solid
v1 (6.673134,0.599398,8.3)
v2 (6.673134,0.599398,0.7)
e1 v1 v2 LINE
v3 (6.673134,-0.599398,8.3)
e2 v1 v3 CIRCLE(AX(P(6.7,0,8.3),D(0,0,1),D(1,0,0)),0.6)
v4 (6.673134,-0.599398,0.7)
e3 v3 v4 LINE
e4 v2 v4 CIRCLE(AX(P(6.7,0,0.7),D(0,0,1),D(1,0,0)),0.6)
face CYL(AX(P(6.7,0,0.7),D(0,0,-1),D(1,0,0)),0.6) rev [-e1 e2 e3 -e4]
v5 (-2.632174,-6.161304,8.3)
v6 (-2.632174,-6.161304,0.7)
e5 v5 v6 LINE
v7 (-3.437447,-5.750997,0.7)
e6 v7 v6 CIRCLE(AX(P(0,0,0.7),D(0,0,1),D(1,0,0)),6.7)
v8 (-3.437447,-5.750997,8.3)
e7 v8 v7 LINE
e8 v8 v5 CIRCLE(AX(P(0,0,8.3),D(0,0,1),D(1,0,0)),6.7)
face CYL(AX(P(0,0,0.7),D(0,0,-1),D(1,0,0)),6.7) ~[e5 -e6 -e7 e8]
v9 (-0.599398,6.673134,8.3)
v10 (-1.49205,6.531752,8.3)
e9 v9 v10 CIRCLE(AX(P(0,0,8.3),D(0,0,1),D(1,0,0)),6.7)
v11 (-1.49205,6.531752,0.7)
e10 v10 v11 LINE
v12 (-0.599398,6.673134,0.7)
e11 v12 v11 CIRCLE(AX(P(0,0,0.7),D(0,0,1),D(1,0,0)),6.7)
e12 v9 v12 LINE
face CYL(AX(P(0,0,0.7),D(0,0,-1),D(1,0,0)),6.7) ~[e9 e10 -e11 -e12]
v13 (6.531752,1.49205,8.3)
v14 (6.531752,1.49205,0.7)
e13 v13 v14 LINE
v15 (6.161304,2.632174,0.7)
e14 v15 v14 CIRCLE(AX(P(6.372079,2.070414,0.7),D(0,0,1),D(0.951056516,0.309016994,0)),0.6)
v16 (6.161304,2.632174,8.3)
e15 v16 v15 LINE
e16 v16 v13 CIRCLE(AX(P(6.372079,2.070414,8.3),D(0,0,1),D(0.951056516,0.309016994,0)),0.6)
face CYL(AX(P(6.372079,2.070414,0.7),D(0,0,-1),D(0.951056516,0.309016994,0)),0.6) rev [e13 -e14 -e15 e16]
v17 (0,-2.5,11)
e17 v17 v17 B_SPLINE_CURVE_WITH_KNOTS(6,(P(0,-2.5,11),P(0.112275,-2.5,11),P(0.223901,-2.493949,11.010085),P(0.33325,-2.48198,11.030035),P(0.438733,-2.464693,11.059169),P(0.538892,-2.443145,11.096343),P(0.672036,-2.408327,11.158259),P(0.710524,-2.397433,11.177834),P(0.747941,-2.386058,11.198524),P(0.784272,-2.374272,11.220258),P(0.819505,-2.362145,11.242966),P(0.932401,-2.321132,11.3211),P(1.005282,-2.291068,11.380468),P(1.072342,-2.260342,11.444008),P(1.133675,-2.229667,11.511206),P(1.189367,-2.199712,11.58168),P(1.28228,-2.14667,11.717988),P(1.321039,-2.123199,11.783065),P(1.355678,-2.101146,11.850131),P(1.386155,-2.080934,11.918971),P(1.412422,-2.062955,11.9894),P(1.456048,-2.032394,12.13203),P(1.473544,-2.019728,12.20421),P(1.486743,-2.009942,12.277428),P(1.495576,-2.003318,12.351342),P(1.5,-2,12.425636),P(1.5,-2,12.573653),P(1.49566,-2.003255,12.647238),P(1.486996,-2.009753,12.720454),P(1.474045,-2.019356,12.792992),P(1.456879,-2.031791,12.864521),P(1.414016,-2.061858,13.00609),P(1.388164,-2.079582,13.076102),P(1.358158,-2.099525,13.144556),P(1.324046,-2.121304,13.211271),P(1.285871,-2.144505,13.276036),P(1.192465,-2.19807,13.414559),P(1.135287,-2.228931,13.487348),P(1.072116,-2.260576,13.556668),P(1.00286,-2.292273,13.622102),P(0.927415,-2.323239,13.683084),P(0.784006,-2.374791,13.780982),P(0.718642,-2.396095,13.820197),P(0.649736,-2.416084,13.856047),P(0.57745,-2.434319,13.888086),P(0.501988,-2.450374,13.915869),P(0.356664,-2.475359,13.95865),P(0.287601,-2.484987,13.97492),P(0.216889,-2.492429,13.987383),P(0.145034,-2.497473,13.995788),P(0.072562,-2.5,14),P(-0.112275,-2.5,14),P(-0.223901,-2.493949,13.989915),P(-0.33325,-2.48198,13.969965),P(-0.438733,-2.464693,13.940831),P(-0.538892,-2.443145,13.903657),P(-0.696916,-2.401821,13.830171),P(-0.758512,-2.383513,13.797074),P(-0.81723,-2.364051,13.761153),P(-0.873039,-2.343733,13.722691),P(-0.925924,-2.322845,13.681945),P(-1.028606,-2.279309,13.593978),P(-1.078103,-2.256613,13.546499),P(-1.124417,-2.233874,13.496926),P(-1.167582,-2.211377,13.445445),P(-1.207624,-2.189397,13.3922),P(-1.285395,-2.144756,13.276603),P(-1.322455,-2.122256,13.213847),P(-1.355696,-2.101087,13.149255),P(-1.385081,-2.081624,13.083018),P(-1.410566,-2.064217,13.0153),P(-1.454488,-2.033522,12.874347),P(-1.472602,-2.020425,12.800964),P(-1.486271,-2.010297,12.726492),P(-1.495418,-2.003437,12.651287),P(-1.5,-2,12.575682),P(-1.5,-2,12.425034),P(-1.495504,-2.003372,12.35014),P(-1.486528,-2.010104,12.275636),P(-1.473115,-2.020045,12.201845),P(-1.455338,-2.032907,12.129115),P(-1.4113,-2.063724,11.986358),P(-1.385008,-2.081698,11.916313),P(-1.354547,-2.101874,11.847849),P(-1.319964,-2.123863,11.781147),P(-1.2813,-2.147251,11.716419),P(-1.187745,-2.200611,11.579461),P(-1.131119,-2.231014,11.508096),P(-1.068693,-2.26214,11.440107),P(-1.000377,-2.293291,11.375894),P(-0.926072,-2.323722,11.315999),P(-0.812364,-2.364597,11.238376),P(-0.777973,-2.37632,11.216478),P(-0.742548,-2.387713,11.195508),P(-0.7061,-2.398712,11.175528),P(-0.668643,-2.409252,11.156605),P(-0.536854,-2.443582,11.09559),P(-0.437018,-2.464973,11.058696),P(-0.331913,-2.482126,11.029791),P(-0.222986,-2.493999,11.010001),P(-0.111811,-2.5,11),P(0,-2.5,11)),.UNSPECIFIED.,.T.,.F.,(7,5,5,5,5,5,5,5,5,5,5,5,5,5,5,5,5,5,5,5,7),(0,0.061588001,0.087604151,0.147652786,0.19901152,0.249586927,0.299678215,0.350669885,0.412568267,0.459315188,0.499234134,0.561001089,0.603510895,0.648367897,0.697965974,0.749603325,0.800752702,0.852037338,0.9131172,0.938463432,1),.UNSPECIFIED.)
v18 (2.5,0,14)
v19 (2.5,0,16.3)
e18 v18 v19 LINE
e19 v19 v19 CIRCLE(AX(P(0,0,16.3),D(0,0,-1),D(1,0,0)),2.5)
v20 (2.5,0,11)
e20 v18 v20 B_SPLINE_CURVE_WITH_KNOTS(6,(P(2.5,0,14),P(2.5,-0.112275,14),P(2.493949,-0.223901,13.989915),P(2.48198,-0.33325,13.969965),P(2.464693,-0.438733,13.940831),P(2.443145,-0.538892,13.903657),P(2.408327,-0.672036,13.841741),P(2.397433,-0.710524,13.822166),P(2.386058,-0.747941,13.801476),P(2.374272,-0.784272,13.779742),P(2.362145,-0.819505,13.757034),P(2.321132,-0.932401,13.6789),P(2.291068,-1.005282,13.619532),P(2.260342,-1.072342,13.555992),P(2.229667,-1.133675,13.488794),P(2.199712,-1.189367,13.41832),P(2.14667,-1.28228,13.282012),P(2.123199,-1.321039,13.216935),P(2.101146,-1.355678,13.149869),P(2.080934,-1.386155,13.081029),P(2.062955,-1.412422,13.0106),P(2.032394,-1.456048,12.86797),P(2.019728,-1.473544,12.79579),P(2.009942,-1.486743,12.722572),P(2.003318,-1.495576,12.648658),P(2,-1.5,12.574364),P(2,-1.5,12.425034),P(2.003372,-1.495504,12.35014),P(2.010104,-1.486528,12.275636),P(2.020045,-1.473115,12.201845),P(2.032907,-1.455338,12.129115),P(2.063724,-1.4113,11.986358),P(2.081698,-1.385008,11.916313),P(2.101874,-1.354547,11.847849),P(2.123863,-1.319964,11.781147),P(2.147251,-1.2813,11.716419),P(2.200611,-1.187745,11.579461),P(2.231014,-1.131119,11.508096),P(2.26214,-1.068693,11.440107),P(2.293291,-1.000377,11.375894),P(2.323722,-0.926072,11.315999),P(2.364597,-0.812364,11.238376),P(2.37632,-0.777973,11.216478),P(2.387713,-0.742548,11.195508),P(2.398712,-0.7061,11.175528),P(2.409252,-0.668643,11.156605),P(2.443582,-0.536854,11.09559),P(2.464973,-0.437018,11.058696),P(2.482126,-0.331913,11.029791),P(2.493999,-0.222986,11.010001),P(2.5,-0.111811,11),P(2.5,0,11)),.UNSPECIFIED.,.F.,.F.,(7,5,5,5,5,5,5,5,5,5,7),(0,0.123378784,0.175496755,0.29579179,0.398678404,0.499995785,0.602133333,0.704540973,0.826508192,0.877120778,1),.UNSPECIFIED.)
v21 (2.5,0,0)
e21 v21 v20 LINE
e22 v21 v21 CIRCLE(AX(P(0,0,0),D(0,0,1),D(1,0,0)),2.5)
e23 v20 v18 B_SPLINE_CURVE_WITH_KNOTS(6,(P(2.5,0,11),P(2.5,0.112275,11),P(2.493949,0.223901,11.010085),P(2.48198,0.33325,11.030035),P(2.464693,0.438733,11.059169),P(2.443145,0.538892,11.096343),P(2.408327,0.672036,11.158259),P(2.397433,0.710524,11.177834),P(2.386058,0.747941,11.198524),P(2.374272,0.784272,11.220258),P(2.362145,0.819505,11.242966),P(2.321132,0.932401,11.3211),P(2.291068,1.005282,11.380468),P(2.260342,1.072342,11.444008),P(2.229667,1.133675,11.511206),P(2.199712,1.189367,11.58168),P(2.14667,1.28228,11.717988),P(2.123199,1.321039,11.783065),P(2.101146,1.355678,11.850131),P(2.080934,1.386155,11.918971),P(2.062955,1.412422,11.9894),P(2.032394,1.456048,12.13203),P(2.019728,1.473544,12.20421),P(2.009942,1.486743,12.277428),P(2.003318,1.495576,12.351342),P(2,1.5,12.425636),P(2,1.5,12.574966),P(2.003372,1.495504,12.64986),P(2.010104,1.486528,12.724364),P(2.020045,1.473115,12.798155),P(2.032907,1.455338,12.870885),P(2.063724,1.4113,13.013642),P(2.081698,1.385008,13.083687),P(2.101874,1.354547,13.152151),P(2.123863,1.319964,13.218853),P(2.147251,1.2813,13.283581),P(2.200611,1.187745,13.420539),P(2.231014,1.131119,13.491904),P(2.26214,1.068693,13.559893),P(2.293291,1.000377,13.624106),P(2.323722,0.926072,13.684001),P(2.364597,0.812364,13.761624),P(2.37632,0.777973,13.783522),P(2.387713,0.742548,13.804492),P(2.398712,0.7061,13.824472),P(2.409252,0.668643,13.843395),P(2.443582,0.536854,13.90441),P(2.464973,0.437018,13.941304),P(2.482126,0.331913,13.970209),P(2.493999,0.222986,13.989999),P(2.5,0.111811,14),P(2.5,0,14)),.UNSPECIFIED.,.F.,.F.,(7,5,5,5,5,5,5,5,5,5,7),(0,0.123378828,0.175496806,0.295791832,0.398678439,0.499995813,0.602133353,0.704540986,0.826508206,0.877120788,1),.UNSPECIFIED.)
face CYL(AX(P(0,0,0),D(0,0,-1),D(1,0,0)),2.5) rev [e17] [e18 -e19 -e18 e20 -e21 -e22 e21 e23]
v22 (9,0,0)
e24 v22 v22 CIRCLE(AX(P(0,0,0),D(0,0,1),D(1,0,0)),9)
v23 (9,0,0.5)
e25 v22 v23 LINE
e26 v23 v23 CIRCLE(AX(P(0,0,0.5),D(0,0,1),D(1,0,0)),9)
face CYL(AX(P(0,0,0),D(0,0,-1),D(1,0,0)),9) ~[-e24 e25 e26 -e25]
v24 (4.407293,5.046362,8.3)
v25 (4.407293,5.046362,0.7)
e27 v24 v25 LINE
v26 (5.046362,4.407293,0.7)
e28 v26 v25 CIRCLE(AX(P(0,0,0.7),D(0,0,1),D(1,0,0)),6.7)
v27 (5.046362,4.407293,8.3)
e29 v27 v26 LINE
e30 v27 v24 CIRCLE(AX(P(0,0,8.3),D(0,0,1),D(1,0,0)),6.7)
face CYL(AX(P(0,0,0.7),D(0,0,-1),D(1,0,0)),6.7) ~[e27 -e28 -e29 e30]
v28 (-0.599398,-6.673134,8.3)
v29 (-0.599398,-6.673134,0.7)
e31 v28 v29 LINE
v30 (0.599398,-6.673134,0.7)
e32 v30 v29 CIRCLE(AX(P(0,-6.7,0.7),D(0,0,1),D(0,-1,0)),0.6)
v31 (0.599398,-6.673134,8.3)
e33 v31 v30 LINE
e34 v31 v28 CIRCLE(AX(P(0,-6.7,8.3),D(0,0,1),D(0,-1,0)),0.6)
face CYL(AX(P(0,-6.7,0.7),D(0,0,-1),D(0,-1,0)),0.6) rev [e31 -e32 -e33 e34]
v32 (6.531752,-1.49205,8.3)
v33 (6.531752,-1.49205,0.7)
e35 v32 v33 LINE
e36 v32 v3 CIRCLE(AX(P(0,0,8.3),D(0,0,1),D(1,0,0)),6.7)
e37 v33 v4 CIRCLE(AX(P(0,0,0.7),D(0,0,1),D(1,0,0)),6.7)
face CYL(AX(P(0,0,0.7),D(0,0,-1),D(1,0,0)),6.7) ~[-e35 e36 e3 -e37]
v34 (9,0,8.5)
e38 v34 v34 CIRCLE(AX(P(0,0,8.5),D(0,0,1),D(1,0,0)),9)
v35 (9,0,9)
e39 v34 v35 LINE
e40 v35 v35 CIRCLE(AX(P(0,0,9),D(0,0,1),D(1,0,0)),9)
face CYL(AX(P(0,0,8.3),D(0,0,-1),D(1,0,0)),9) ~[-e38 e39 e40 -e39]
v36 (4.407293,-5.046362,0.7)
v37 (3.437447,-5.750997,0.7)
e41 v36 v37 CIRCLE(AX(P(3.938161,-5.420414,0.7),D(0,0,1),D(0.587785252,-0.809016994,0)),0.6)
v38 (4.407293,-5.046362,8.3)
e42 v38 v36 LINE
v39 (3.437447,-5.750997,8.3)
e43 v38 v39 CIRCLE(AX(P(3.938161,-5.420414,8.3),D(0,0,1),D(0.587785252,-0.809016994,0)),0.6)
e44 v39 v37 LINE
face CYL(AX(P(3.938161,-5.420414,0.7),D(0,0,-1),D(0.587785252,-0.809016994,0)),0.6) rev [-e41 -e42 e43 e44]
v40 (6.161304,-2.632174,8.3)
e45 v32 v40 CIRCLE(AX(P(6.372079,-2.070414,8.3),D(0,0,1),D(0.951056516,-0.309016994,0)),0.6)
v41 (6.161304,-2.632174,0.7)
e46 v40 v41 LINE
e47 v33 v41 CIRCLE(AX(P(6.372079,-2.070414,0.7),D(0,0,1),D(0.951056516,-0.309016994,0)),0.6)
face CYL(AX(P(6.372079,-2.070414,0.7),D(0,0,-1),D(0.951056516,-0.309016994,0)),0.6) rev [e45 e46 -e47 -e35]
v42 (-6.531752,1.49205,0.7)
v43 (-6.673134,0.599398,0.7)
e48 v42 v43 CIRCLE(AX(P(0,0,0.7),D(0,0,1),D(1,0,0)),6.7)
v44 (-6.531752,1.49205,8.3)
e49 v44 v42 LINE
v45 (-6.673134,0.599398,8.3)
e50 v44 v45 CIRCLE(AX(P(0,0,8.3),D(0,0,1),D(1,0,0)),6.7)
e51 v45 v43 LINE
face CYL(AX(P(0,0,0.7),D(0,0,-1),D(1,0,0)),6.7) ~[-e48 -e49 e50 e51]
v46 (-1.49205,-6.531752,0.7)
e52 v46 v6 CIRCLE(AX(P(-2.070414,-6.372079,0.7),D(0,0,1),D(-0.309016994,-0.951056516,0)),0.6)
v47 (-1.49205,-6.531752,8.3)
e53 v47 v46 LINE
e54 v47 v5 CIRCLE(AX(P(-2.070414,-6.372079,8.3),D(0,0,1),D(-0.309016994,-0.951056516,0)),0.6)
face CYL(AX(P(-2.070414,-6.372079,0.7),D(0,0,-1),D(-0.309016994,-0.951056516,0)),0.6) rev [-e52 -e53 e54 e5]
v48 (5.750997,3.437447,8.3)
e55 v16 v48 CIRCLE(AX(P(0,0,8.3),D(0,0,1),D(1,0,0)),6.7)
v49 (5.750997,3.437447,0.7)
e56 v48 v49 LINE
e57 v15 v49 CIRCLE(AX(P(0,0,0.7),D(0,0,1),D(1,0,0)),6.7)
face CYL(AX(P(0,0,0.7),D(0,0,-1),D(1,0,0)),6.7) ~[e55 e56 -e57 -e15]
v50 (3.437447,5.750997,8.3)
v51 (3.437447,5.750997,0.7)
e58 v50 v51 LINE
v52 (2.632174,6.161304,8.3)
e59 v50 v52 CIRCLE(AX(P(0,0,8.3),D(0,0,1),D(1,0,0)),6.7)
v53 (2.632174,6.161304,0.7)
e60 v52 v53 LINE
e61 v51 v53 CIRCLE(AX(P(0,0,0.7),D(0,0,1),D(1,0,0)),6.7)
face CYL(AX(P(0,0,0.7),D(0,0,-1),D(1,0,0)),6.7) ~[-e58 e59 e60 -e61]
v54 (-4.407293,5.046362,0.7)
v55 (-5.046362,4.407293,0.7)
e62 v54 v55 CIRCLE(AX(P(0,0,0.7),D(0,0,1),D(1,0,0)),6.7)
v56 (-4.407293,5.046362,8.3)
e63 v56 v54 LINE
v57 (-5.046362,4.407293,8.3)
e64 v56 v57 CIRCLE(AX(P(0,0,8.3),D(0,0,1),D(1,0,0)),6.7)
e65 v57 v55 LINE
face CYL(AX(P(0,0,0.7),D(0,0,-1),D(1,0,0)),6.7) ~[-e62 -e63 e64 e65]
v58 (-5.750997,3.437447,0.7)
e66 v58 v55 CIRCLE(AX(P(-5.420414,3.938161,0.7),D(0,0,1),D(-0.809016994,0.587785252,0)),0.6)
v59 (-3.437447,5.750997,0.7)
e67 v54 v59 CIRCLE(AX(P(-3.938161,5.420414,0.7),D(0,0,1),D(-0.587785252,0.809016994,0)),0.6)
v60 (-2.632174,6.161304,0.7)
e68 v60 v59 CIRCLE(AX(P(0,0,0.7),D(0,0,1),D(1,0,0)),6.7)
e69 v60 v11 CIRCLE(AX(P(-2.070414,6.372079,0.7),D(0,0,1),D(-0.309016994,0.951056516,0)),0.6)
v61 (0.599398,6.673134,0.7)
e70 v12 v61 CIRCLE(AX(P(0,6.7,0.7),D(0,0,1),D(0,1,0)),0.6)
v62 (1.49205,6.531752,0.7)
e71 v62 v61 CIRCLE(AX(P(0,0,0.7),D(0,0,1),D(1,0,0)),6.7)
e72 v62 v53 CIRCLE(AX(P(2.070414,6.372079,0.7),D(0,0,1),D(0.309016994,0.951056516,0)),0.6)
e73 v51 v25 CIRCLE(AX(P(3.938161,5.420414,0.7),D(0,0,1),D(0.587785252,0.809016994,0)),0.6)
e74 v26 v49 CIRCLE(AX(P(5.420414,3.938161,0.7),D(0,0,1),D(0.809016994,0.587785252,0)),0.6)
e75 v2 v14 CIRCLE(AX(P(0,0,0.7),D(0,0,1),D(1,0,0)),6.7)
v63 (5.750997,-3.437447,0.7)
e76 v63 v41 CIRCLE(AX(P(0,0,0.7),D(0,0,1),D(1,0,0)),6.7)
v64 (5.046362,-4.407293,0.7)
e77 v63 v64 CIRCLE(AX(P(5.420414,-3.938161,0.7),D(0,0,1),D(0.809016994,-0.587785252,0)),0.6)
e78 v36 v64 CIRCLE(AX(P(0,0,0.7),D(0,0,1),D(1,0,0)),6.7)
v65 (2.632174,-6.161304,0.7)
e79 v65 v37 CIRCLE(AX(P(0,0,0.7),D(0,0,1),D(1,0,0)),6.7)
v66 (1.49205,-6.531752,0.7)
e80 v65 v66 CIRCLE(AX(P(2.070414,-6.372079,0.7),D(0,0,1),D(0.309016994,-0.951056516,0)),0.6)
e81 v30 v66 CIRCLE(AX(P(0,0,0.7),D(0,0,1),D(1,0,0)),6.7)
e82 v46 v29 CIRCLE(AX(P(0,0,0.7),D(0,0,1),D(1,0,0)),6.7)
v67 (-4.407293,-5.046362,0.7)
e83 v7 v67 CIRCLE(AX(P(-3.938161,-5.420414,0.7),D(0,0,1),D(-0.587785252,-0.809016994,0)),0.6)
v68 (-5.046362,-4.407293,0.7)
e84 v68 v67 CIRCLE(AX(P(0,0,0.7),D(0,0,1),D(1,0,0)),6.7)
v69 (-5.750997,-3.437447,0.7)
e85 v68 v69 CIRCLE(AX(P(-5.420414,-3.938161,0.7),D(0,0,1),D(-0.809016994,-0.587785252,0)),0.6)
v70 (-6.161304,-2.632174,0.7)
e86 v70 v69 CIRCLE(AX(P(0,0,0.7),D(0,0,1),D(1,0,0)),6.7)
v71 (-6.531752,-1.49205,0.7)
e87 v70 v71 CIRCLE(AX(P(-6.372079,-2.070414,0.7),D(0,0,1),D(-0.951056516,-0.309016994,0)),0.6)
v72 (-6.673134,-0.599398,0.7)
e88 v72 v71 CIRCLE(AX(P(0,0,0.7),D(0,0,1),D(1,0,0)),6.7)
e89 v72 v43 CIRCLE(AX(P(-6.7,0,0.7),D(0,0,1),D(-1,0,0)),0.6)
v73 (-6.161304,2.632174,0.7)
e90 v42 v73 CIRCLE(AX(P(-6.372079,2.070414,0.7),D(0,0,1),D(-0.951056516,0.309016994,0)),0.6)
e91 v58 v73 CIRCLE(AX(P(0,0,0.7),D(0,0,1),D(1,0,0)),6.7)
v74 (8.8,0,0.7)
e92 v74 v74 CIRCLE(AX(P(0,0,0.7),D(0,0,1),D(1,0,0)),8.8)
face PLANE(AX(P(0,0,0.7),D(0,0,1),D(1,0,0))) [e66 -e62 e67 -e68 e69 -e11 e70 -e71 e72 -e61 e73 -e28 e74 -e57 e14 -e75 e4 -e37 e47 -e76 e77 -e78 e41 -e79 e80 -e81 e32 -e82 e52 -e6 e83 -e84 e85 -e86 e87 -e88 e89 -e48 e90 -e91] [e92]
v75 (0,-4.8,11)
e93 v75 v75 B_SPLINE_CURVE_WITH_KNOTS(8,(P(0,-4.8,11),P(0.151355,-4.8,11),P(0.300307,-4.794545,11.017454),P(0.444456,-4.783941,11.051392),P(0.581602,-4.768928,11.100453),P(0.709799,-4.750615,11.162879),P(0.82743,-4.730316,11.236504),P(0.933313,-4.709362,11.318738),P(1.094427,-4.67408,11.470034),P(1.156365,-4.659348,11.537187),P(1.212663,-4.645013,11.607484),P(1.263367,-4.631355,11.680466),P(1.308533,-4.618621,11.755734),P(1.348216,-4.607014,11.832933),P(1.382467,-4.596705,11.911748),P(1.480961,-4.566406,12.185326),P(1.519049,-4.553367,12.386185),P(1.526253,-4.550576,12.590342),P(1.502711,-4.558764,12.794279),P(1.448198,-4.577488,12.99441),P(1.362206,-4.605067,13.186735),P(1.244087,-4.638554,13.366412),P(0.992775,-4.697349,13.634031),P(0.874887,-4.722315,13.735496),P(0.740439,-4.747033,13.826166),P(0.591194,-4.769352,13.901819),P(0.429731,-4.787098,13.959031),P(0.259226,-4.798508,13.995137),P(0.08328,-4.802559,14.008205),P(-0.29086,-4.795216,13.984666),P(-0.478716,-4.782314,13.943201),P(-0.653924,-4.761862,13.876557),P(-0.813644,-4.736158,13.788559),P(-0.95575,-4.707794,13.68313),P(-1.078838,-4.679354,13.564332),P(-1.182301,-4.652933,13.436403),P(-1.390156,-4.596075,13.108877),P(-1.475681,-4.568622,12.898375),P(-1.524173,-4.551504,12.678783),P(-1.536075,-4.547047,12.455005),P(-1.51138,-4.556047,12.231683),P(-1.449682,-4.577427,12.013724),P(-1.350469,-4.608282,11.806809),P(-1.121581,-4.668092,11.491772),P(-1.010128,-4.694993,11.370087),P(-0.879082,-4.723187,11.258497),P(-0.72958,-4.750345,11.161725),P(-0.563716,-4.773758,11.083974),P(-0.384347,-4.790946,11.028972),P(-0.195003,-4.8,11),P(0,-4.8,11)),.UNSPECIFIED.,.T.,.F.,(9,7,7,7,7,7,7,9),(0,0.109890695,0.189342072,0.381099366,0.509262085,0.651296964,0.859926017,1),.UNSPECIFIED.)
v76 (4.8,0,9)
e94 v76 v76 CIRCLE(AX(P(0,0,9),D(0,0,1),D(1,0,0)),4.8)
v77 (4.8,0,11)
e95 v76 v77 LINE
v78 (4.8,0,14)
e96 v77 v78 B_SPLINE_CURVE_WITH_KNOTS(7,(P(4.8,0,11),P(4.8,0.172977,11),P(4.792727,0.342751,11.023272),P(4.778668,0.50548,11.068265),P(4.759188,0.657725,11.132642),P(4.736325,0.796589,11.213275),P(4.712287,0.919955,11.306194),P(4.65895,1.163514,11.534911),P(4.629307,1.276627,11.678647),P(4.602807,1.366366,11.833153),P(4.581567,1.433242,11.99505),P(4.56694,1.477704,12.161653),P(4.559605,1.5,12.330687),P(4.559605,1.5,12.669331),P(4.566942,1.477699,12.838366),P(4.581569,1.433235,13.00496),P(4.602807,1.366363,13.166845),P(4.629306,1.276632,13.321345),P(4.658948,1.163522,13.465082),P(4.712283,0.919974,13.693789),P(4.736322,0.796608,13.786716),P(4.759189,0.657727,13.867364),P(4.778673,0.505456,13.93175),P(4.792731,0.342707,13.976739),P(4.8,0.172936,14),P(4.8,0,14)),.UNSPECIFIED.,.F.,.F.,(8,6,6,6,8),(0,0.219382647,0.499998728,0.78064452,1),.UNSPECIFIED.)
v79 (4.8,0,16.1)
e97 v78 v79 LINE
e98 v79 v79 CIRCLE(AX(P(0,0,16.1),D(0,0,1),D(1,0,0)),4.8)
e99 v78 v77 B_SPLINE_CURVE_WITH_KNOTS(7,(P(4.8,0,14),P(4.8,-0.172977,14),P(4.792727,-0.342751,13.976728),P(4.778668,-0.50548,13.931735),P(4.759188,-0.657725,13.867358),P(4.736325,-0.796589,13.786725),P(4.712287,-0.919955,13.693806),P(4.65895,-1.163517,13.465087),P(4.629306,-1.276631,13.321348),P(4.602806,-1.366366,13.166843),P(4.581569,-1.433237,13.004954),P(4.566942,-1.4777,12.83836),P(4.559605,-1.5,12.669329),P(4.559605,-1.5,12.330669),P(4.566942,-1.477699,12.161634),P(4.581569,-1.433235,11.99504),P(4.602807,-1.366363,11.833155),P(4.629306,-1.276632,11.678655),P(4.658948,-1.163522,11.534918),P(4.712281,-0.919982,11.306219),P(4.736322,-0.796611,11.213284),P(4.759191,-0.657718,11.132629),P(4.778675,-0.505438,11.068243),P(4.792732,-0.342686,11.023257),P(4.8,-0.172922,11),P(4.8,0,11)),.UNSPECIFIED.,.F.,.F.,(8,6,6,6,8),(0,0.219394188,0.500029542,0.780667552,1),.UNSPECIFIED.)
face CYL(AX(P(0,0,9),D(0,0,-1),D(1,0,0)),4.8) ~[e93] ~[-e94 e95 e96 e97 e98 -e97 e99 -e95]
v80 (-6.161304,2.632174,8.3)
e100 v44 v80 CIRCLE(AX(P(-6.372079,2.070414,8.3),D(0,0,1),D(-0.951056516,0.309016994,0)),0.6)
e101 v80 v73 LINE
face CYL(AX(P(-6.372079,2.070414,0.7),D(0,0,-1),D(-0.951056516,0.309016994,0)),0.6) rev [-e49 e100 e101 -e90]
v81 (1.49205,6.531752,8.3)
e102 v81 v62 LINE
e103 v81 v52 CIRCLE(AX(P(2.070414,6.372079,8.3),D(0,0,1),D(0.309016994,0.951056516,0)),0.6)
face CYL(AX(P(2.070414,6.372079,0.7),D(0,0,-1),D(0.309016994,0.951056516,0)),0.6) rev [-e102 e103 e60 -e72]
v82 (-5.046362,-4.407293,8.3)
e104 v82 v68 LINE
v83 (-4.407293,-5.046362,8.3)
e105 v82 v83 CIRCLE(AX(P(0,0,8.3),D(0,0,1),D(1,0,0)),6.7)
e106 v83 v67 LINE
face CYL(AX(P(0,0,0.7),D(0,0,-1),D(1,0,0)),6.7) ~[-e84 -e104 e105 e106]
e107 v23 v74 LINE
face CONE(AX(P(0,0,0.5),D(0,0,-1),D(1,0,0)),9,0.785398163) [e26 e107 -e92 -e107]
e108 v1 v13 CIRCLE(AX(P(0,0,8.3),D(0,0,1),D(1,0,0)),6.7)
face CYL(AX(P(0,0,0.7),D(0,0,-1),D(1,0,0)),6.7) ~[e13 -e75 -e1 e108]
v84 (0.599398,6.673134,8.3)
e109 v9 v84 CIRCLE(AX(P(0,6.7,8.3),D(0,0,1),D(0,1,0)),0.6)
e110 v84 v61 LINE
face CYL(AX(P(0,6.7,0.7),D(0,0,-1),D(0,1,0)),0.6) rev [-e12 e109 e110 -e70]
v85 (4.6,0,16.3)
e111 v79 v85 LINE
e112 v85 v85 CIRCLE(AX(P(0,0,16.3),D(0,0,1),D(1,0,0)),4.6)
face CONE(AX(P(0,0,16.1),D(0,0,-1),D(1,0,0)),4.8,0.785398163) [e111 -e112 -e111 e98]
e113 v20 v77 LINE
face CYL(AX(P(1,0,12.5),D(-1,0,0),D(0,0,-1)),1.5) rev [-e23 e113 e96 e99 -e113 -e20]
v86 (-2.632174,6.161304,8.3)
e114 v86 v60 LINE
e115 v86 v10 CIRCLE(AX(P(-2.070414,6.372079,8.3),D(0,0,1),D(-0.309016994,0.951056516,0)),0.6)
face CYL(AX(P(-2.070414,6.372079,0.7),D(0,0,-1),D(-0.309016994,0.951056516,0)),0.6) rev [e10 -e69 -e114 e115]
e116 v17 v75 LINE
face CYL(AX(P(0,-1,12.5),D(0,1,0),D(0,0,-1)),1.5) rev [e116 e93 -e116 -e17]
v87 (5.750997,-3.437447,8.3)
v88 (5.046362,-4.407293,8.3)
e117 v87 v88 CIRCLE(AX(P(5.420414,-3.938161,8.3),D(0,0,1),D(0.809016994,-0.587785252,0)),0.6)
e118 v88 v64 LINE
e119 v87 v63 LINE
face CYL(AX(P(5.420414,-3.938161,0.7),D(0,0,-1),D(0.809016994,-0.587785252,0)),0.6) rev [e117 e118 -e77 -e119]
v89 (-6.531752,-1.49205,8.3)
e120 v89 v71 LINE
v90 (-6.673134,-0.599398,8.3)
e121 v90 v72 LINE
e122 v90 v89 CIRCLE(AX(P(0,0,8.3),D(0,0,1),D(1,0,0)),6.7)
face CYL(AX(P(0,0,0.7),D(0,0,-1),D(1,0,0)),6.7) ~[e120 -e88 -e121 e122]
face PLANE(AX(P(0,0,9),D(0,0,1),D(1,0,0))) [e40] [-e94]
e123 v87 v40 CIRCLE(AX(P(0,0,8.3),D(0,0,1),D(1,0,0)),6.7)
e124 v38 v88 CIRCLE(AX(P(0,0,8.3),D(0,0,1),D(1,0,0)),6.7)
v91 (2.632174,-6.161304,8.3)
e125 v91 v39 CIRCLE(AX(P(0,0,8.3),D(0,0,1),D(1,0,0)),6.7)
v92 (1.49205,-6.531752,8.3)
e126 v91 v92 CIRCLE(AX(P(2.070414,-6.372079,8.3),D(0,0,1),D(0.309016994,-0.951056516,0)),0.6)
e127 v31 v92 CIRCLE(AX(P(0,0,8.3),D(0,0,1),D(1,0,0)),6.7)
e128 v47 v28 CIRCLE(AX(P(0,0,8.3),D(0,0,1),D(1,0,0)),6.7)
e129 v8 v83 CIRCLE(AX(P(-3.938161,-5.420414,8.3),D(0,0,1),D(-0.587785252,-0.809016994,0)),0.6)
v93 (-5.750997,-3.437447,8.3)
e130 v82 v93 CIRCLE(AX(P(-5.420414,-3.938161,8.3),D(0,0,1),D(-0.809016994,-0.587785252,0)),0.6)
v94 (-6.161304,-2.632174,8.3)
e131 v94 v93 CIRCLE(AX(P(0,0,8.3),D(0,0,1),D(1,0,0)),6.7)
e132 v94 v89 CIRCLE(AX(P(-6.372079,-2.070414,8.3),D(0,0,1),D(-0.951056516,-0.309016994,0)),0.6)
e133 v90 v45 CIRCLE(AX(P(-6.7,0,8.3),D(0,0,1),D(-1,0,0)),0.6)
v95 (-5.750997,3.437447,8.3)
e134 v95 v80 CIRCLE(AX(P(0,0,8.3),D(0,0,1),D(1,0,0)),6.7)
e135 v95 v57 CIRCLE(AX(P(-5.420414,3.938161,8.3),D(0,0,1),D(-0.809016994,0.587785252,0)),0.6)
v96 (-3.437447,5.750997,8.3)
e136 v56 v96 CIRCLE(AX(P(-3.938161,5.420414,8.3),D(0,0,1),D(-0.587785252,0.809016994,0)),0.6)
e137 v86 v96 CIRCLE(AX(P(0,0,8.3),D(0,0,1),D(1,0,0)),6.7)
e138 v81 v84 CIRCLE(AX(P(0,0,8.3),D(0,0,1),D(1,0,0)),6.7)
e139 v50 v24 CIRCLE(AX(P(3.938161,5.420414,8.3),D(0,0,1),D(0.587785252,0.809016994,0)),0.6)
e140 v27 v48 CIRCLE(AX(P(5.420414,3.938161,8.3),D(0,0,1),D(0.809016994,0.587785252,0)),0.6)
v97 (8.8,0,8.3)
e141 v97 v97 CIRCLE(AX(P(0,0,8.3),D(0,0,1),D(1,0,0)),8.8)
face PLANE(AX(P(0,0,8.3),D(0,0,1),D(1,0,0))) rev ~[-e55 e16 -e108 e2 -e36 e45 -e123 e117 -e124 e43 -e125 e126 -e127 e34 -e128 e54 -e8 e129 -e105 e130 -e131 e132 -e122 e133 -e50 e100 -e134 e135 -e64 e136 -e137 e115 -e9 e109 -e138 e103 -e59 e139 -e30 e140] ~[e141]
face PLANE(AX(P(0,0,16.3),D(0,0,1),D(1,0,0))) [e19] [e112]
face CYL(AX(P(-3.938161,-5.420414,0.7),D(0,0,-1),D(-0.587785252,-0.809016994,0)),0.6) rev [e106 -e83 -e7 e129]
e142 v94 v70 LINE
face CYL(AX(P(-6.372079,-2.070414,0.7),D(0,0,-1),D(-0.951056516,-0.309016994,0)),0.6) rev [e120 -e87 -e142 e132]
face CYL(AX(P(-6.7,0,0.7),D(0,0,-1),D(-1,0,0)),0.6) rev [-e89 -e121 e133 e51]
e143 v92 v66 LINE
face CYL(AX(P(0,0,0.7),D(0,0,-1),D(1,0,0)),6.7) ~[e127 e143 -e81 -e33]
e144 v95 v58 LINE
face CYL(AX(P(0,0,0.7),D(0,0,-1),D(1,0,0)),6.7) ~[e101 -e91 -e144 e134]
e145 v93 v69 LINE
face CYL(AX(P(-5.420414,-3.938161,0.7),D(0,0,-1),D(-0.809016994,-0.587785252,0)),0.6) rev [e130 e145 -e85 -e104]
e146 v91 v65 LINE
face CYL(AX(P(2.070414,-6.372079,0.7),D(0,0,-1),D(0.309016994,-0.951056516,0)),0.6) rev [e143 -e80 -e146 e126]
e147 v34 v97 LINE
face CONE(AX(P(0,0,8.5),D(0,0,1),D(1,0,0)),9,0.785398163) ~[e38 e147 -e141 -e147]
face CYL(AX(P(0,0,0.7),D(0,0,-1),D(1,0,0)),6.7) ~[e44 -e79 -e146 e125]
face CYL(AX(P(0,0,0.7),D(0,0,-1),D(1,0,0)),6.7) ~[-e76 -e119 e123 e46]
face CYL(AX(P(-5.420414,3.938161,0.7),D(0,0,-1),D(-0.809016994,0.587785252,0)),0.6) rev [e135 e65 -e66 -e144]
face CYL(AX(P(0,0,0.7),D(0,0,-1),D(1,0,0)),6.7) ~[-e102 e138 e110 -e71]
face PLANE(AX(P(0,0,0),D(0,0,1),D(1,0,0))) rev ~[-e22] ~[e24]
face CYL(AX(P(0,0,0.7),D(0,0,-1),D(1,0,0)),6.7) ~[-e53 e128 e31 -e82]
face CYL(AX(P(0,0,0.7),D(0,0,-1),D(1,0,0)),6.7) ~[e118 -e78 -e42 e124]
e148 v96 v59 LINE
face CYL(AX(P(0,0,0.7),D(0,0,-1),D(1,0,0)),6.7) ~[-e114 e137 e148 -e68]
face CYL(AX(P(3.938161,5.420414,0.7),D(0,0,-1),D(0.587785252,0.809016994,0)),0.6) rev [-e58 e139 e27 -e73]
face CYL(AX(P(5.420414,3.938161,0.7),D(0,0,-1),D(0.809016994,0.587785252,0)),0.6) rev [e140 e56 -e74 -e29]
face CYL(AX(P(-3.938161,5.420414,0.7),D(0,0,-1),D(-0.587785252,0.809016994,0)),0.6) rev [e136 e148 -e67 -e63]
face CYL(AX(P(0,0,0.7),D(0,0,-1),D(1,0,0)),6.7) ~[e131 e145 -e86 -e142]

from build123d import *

# Parameters (mm, degrees)
CYLINDER004_R     = 2.5
CYLINDER004_DEPTH = 16.6
CYLINDER005_R     = 1.5
CYLINDER005_DEPTH = 9
CYLINDER008_R     = 1.5
CYLINDER008_DEPTH = 9
CYLINDER007_R     = 4.8
CYLINDER007_DEPTH = 7.3
CHAMFER003_SIZE   = 0.2
CYLINDER002_R     = 9
CYLINDER002_DEPTH = 0.7
CHAMFER_SIZE      = 0.2
CYLINDER003_R     = 9
CYLINDER003_DEPTH = 0.7
CHAMFER001_SIZE   = 0.2
CYLINDER_R        = 0.6
CYLINDER_DEPTH    = 7.6
ARRAY_COUNT       = 20
CYLINDER001_R     = 6.7
CYLINDER001_DEPTH = 7.6


with BuildPart() as cilindro004:
    # Cylinder004 → Cylinder004 (new body)
    with BuildSketch(Plane.XY):
        Circle(CYLINDER004_R)
    extrude(amount=CYLINDER004_DEPTH)


with BuildPart() as cilindro005:
    # Cylinder005 → Cylinder005 (new body)
    with BuildSketch(Plane(origin=(1, 0, 3.5), x_dir=(0, 0, -1), z_dir=(1, 0, 0))):
        Circle(CYLINDER005_R)
    extrude(amount=CYLINDER005_DEPTH)


with BuildPart() as fusion001:
    # Cylinder008 → Cylinder008 (new body)
    with BuildSketch(Plane(origin=(0, -1, 3.5), x_dir=(0, 0, -1), z_dir=(0, -1, 0))):
        Circle(CYLINDER008_R)
    extrude(amount=CYLINDER008_DEPTH)

    # Fusion001: union Cilindro005
    add(cilindro005.part)


with BuildPart() as cut001:
    # Cylinder007 → Cylinder007 (new body)
    with BuildSketch(Plane.XY):
        Circle(CYLINDER007_R)
    extrude(amount=CYLINDER007_DEPTH)

    # Chamfer003
    chamfer003_edges = [cut001.edges().sort_by_distance(p)[0] for p in [
        (-4.8, 0, 7.3),
    ]]
    chamfer(chamfer003_edges, length=CHAMFER003_SIZE)

    # Cut001: cut Fusion001
    add(fusion001.part, mode=Mode.SUBTRACT)


with BuildPart() as cut001_1:
    # Cut001 placement: moved
    add(cut001.part.moved(Location((0, 0, 9))))


with BuildPart() as chamfer_body:
    # Cylinder002 → Cylinder002 (new body)
    with BuildSketch(Plane.XY):
        Circle(CYLINDER002_R)
    extrude(amount=CYLINDER002_DEPTH)

    # Chamfer
    chamfer_edges = [chamfer_body.edges().sort_by_distance(p)[0] for p in [
        (-9, 0, 0.7),
    ]]
    chamfer(chamfer_edges, length=CHAMFER_SIZE)


with BuildPart() as chamfer001:
    # Cylinder003 → Cylinder003 (new body)
    with BuildSketch(Plane.XY.offset(8.3)):
        Circle(CYLINDER003_R)
    extrude(amount=CYLINDER003_DEPTH)

    # Chamfer001
    chamfer001_edges = [chamfer001.edges().sort_by_distance(p)[0] for p in [
        (-9, 0, 8.3),
    ]]
    chamfer(chamfer001_edges, length=CHAMFER001_SIZE)


with BuildPart() as array:
    # Cylinder → Cylinder (new body)
    with BuildSketch(Plane(origin=(6.7, 0, 0), x_dir=(1, 0, 0), z_dir=(0, 0, 1))):
        Circle(CYLINDER_R)
    extrude(amount=CYLINDER_DEPTH)

    # Array: Array ×20 about axis
    array_axis = Axis((0, 0, 0), (0, 0, 1))


with BuildPart() as array_1:
    add(array.part)
    for i in range(1, ARRAY_COUNT):
        add(array.part.rotate(array_axis, i * 360 / ARRAY_COUNT))


with BuildPart() as poleagt2:
    # Cylinder001 → Cylinder001 (new body)
    with BuildSketch(Plane.XY):
        Circle(CYLINDER001_R)
    extrude(amount=CYLINDER001_DEPTH)

    # Cut: cut Array
    add(array_1.part, mode=Mode.SUBTRACT)


with BuildPart() as poleagt2_1:
    # Cut placement: moved
    add(poleagt2.part.moved(Location((0, 0, 0.7))))

    # Fusion: union Chamfer body, Chamfer001
    add(chamfer_body.part)
    add(chamfer001.part)

    # Fusion002: union Cut001
    add(cut001_1.part)

    # Cut002: cut Cilindro004
    add(cilindro004.part, mode=Mode.SUBTRACT)


solid = poleagt2_1.part
